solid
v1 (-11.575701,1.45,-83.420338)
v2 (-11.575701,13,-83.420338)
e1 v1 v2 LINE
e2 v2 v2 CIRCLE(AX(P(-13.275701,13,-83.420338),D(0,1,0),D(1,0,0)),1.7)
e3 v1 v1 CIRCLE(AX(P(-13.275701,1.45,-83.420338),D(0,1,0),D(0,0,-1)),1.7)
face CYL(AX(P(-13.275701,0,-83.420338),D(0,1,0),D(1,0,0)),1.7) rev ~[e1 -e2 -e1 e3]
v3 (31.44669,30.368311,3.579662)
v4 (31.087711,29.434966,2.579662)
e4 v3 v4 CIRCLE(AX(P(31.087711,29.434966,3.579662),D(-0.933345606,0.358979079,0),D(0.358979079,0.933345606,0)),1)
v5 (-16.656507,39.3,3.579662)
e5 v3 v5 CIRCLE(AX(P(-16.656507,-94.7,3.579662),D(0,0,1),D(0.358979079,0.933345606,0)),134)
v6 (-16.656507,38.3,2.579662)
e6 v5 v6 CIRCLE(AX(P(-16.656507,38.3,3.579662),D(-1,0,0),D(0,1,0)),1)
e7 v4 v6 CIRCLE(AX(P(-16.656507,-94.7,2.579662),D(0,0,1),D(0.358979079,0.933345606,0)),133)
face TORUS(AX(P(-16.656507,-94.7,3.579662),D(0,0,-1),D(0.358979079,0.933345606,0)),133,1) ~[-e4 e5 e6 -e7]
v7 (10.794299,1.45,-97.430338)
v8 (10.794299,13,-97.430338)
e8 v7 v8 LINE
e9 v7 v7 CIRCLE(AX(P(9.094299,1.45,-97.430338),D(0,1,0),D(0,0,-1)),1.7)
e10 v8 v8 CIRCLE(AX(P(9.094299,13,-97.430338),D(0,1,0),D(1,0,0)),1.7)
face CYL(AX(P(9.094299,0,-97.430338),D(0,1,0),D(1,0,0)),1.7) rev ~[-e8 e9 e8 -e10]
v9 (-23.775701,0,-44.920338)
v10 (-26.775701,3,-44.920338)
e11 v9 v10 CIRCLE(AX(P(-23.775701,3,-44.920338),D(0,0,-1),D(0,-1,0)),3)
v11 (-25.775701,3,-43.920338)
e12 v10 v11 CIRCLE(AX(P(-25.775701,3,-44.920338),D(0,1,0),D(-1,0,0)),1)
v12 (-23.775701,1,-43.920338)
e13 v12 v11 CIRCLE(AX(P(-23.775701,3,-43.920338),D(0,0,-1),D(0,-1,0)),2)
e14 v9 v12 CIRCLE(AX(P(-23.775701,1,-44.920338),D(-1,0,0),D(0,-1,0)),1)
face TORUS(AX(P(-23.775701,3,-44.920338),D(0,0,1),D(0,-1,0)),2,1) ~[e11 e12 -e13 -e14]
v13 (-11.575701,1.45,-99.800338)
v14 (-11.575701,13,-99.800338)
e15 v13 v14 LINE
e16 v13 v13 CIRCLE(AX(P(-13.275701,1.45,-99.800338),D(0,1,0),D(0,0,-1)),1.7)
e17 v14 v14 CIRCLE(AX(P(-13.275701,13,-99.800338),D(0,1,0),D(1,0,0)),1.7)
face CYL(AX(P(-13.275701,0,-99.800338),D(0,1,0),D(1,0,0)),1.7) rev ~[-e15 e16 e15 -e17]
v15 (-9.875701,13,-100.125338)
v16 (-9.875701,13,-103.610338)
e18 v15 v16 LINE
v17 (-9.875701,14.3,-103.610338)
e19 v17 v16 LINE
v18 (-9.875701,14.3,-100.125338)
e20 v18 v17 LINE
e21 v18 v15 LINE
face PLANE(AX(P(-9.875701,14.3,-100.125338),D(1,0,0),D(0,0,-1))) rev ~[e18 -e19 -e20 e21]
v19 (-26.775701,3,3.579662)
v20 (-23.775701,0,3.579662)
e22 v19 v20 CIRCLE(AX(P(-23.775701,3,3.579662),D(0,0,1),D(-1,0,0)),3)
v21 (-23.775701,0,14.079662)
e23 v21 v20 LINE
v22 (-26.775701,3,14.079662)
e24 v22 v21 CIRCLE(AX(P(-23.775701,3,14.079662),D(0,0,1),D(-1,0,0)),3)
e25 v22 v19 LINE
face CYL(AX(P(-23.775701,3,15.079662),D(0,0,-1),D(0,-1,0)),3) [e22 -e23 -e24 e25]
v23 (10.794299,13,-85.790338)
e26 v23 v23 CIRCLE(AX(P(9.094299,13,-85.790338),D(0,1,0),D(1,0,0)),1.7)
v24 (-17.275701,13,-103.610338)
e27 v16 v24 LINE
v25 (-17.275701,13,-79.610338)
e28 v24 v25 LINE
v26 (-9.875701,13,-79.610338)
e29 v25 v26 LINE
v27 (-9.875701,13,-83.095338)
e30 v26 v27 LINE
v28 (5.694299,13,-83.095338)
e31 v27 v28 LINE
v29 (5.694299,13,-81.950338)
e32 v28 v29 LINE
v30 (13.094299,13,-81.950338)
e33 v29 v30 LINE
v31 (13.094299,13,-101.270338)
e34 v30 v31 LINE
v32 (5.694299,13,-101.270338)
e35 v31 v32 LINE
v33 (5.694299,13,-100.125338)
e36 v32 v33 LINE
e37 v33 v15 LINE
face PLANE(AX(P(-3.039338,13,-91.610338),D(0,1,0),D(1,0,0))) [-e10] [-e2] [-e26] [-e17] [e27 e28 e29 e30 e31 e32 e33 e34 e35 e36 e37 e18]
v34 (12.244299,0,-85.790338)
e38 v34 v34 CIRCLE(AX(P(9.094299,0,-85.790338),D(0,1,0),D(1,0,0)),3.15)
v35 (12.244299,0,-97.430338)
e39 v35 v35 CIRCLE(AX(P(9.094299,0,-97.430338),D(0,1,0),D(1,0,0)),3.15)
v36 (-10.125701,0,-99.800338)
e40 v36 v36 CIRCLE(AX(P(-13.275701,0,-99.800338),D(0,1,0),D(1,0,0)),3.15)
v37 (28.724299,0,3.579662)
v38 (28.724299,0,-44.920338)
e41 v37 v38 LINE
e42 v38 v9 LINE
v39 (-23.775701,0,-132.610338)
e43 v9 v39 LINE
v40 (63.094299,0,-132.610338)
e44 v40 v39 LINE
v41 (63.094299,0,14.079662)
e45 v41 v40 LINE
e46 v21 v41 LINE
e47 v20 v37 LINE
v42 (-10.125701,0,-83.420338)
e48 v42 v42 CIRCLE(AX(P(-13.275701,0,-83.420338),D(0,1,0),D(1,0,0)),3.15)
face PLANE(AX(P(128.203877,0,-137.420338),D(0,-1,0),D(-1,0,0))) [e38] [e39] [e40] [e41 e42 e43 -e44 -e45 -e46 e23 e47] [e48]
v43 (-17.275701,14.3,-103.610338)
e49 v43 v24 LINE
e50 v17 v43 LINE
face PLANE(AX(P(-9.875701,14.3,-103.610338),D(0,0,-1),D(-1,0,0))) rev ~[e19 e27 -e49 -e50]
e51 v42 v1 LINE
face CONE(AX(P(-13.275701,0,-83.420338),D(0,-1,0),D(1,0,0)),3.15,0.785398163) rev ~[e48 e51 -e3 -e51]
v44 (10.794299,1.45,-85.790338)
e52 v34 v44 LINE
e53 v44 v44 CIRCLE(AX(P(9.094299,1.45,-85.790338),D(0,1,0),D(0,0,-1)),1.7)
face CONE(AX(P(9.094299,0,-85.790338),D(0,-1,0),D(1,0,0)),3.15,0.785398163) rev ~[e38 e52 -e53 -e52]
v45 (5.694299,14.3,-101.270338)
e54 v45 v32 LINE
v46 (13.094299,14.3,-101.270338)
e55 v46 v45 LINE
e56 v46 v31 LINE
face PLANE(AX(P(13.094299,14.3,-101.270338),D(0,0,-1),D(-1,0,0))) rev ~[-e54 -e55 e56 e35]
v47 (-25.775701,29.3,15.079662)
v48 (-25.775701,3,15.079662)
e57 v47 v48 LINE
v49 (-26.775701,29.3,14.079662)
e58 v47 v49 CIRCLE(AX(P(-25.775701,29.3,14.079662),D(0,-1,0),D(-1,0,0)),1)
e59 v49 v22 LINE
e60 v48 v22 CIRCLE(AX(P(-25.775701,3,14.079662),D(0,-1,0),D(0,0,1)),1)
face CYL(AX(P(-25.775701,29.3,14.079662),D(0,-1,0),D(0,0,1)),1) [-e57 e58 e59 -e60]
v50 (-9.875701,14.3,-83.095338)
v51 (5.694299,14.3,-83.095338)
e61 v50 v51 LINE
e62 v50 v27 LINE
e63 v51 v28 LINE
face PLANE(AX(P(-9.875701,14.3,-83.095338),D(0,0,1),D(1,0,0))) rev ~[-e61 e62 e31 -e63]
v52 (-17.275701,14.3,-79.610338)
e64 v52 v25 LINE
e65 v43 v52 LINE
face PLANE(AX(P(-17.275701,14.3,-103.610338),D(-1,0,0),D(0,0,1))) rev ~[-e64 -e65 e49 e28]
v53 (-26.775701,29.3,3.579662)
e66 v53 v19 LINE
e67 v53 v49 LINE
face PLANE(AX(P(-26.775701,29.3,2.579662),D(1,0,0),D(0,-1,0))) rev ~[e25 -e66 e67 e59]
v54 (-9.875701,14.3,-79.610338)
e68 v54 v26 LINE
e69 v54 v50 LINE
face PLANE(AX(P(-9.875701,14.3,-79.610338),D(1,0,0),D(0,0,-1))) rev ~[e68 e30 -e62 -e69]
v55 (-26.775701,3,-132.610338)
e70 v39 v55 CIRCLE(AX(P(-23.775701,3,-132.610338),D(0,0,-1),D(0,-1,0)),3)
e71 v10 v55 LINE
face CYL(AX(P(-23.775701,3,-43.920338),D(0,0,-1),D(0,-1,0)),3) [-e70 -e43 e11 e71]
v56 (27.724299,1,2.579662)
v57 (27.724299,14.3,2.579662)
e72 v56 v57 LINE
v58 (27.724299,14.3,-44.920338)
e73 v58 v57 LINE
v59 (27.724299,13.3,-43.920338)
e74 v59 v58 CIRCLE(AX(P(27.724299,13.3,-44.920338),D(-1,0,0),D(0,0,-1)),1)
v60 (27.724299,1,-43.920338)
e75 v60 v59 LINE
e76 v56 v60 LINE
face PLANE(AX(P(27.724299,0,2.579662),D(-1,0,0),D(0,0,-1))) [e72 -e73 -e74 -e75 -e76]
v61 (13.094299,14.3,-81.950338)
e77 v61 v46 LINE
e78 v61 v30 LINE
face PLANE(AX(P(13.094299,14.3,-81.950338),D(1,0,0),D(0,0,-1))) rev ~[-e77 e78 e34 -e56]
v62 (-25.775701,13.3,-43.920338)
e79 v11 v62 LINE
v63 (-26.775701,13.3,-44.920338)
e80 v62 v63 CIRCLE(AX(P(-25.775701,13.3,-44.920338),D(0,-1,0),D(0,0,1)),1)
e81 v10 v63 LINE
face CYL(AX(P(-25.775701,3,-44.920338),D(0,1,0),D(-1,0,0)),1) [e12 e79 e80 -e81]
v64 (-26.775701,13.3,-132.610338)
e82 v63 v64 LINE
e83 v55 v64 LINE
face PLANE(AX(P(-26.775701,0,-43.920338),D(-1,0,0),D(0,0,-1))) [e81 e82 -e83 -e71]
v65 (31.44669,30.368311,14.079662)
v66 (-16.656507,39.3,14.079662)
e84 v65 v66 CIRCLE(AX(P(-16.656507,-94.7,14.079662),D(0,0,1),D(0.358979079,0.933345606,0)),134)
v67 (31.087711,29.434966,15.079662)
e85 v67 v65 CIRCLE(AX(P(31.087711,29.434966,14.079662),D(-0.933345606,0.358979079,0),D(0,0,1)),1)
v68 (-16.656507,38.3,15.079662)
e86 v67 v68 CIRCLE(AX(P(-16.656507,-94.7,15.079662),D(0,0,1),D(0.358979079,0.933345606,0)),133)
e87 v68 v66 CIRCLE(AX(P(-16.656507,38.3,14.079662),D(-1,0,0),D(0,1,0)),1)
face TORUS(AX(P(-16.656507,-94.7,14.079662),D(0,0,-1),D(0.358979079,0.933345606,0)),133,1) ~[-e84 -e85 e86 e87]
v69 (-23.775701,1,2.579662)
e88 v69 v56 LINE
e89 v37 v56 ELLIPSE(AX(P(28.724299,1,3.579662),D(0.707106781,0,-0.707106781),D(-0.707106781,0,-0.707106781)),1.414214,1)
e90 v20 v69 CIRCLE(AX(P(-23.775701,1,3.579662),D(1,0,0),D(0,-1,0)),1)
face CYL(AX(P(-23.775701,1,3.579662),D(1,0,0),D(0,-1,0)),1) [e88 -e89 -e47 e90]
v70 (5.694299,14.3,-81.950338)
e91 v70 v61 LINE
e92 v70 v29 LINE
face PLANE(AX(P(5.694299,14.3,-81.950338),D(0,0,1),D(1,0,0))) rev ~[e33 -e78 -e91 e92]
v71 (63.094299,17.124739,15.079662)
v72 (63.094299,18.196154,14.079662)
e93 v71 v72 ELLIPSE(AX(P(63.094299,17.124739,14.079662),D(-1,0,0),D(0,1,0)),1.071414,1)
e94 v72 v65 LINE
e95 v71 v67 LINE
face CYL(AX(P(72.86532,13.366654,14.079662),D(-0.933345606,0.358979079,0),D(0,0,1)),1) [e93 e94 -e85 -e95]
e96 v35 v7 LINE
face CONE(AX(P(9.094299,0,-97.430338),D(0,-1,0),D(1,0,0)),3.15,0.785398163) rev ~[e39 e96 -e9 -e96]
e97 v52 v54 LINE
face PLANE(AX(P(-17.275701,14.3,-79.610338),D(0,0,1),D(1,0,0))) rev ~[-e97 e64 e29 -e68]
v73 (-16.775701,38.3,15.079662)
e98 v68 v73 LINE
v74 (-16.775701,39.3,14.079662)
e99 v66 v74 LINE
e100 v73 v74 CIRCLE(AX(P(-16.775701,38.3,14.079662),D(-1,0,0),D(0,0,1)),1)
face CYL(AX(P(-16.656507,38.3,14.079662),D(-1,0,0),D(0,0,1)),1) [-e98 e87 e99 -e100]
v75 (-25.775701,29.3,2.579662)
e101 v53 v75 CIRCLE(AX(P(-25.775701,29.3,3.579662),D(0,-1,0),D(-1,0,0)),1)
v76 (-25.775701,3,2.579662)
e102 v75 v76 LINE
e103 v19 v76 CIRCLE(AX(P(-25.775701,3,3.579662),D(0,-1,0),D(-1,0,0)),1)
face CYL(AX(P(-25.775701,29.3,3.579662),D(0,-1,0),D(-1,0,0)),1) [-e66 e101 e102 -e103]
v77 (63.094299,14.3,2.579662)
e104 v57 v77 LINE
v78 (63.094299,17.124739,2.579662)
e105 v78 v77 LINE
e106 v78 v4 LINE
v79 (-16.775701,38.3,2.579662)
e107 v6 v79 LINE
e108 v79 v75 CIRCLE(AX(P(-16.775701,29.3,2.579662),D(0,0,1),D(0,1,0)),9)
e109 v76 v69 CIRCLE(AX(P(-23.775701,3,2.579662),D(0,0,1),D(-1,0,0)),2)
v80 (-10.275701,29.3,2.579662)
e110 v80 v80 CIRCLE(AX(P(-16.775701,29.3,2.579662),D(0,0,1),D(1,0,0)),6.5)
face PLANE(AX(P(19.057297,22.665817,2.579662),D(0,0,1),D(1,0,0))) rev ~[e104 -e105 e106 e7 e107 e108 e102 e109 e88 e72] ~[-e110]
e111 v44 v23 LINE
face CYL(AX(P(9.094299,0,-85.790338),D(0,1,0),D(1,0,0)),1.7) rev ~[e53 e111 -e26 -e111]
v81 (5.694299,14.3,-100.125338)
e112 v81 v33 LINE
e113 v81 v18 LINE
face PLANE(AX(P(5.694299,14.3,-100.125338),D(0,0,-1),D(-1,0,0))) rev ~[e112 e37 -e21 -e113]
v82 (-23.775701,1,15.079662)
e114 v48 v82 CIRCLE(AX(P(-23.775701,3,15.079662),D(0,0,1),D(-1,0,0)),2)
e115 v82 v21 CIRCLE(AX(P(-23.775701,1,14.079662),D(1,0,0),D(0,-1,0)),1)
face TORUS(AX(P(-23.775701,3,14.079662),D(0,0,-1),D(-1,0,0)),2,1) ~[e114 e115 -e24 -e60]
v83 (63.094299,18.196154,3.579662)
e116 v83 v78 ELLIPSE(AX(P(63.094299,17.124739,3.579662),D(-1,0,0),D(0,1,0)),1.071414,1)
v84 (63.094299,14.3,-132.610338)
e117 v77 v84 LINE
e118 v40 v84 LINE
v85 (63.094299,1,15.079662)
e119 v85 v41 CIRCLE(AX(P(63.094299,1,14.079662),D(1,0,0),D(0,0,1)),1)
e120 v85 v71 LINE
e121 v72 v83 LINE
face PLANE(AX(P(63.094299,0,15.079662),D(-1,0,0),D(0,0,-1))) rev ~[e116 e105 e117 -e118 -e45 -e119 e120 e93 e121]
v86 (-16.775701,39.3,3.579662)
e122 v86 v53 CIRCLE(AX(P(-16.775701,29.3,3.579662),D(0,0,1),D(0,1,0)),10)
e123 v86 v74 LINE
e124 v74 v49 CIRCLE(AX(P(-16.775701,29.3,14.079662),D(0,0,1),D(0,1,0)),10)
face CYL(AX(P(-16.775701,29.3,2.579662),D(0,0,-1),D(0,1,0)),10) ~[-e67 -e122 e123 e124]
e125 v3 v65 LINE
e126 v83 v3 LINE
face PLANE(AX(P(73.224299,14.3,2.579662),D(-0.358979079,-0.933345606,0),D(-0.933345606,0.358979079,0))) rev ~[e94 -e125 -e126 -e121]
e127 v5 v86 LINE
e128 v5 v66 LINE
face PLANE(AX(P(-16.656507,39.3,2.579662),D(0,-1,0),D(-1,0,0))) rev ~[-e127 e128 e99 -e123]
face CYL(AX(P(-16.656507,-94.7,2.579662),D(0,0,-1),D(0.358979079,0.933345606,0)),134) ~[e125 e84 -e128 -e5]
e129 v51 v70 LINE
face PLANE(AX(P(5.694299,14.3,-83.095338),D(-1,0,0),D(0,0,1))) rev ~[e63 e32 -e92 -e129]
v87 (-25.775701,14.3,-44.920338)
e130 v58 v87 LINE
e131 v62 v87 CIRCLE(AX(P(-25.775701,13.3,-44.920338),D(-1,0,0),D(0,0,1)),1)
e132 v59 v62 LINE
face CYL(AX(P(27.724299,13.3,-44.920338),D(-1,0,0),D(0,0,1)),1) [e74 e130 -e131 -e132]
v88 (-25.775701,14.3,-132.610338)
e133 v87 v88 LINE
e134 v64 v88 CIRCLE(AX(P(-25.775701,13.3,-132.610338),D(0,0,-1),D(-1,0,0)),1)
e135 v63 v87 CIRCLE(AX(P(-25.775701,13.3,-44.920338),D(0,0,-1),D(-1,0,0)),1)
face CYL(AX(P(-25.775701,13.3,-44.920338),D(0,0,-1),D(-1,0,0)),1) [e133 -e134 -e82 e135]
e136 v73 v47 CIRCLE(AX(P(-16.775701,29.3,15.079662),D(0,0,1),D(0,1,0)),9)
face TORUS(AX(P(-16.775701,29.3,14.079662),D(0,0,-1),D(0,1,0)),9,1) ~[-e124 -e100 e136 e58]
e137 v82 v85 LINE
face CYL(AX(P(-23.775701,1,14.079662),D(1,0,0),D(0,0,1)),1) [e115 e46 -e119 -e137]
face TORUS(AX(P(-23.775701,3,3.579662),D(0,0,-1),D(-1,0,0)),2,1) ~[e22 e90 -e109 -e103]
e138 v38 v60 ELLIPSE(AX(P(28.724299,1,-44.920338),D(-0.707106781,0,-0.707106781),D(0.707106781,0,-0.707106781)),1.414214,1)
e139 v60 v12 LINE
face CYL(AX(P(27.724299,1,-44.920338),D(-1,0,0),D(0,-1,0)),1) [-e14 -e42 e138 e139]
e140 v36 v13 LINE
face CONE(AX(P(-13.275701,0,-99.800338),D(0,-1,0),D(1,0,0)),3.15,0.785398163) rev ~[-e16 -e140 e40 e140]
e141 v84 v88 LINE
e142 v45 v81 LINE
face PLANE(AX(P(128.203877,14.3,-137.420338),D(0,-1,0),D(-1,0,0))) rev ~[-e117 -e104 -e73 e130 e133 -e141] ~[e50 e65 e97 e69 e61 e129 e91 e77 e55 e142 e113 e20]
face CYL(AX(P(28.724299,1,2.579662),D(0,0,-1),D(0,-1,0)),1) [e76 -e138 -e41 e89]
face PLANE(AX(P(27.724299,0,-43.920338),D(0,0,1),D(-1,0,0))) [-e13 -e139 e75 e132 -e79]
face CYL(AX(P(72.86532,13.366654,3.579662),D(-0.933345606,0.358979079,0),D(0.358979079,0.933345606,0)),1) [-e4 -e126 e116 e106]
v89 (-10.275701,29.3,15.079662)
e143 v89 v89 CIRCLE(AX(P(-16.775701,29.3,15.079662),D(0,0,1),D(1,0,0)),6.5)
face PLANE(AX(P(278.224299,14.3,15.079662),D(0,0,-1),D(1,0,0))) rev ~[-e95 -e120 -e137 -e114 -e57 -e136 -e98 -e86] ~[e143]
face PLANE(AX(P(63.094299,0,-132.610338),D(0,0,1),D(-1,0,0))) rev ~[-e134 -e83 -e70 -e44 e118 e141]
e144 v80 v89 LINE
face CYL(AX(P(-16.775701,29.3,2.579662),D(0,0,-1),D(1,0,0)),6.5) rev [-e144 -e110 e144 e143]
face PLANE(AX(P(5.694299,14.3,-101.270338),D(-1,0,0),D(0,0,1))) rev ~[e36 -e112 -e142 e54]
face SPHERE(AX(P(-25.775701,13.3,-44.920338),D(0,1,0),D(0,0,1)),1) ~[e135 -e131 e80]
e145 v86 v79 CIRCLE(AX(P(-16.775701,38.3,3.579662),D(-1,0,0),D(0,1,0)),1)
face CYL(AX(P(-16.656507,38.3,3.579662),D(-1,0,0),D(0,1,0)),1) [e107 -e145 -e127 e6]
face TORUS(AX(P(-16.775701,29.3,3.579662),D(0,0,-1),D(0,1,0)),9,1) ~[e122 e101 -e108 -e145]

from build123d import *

# Parameters (mm, degrees)
BOSS_EXTRUDE1_DEPTH                             = 14.3
SKETCH2_R                                       = 1.5
CUT_EXTRUDE1_DEPTH                              = 1.3
CSK_FOR_M3_OVAL_HEAD_MACHINE_SCREW1_D           = 3.4
CSK_FOR_M3_OVAL_HEAD_MACHINE_SCREW1_CSINK_D     = 6.3
CSK_FOR_M3_OVAL_HEAD_MACHINE_SCREW1_CSINK_ANGLE = 90
BOSS_EXTRUDE2_START                             = -12.5
SKETCH8_R                                       = 6.5
BOSS_EXTRUDE2_DEPTH                             = 12.5
SKETCH14_W                                      = 40
SKETCH14_H                                      = 74
BOSS_EXTRUDE4_DEPTH                             = 25
CUT_EXTRUDE3_DEPTH                              = 4
M5_CLEARANCE_HOLE1_D                            = 5.5
FILLET1_R                                       = 4
FILLET1_OF_MIRROR3_R                            = 4
FILLET2_R                                       = 7
FILLET4_R                                       = 3
FILLET5_R                                       = 3
FILLET6_R                                       = 3
FILLET7_R                                       = 1
FILLET8_R                                       = 1
FILLET9_R                                       = 1
FILLET10_R                                      = 1
FILLET11_R                                      = 1
SKETCH21_W                                      = 13
SKETCH21_H                                      = 3.5
BOSS_EXTRUDE5_DEPTH                             = 33
CUT_EXTRUDE4_DEPTH                              = 17
CSK_FOR_M3_FLAT_HEAD_MACHINE_SCREW1_D           = 3.4
CSK_FOR_M3_FLAT_HEAD_MACHINE_SCREW1_CSINK_D     = 6.3
CSK_FOR_M3_FLAT_HEAD_MACHINE_SCREW1_CSINK_ANGLE = 90
CUT_EXTRUDE5_DEPTH                              = 434.079434689


with BuildPart() as part:
    # Sketch1 → Boss-Extrude1 (new body)
    with BuildSketch(Plane(origin=(0, 0, 0), x_dir=(1, 0, 0), z_dir=(0, 1, 0))):
        Polygon((27.724299065, -2.579662371), (27.724299065, 43.920337629), (-26.775700935, 43.920337629), (-26.775700935, 230.920337629), (27.724299065, 230.920337629), (27.724299065, 277.420337629), (-26.775700935, 277.420337629), (-26.775700935, 289.920337629), (318.224299065, 289.920337629), (318.224299065, -15.079662371), (-26.775700935, -15.079662371), (-26.775700935, -2.579662371), align=None)
    extrude(amount=BOSS_EXTRUDE1_DEPTH)

    # Sketch2 → Cut-Extrude1 (cut)
    # profile 1 of 2: a face of its own
    with BuildSketch(Plane(origin=(0, 14.3, 0), x_dir=(1, 0, 0), z_dir=(0, 1, 0))):
        Polygon((5.694299065, 191.745337629), (-9.875700935, 191.745337629), (-9.875700935, 195.230337629), (-17.275700935, 195.230337629), (-17.275700935, 171.230337629), (-9.875700935, 171.230337629), (-9.875700935, 174.715337629), (5.694299065, 174.715337629), (5.694299065, 173.570337629), (13.094299065, 173.570337629), (13.094299065, 192.890337629), (5.694299065, 192.890337629), align=None)
        with Locations(Location((-13.275700935, 191.420337629, 0), (0, 0, 270))):
            Circle(SKETCH2_R, mode=Mode.SUBTRACT)
        with Locations(Location((-13.275700935, 175.040337629, 0), (0, 0, 270))):
            Circle(SKETCH2_R, mode=Mode.SUBTRACT)
        with Locations(Location((9.094299065, 189.050337629, 0), (0, 0, 270))):
            Circle(SKETCH2_R, mode=Mode.SUBTRACT)
        with Locations(Location((9.094299065, 177.410337629, 0), (0, 0, 270))):
            Circle(SKETCH2_R, mode=Mode.SUBTRACT)
    # profile 2 of 2: a face of its own
    with BuildSketch(Plane(origin=(0, 14.3, 0), x_dir=(1, 0, 0), z_dir=(0, 1, 0))):
        Polygon((5.694299065, 100.125337629), (-9.875700935, 100.125337629), (-9.875700935, 103.610337629), (-17.275700935, 103.610337629), (-17.275700935, 79.610337629), (-9.875700935, 79.610337629), (-9.875700935, 83.095337629), (5.694299065, 83.095337629), (5.694299065, 81.950337629), (13.094299065, 81.950337629), (13.094299065, 101.270337629), (5.694299065, 101.270337629), align=None)
        with Locations(Location((-13.275700935, 99.800337629, 0), (0, 0, 270))):
            Circle(SKETCH2_R, mode=Mode.SUBTRACT)
        with Locations(Location((-13.275700935, 83.420337629, 0), (0, 0, 270))):
            Circle(SKETCH2_R, mode=Mode.SUBTRACT)
        with Locations(Location((9.094299065, 97.430337629, 0), (0, 0, 270))):
            Circle(SKETCH2_R, mode=Mode.SUBTRACT)
        with Locations(Location((9.094299065, 85.790337629, 0), (0, 0, 270))):
            Circle(SKETCH2_R, mode=Mode.SUBTRACT)
    extrude(amount=-CUT_EXTRUDE1_DEPTH, mode=Mode.SUBTRACT)

    # CSK for M3 Oval Head Machine Screw1 (through all)
    with Locations(Plane(origin=(0, 0, 0), x_dir=(-1, 0, 0), z_dir=(0, -1, 0))):
        with Locations((13.275700935, 191.420337629), (13.275700935, 175.040337629), (-9.094299065, 177.410337629), (-9.094299065, 189.050337629), (13.275700935, 83.420337629), (13.275700935, 99.800337629), (-9.094299065, 97.430337629), (-9.094299065, 85.790337629)):
            CounterSinkHole(CSK_FOR_M3_OVAL_HEAD_MACHINE_SCREW1_D / 2, CSK_FOR_M3_OVAL_HEAD_MACHINE_SCREW1_CSINK_D / 2, counter_sink_angle=CSK_FOR_M3_OVAL_HEAD_MACHINE_SCREW1_CSINK_ANGLE)

    # Sketch8 → Boss-Extrude2 (add)
    with BuildSketch(Plane.XY.offset(15.079662371).offset(BOSS_EXTRUDE2_START)):
        with BuildLine():
            Line((-26.775700935, 14.3), (73.224299065, 14.3))
            Line((73.224299065, 14.3), (31.446689864, 30.368311231))
            ThreePointArc((31.446689864, 30.368311231), (7.806182122, 37.048156923), (-16.656506763, 39.3))
            Line((-16.656506763, 39.3), (-16.775700935, 39.3))
            ThreePointArc((-16.775700935, 39.3), (-23.846768746, 36.371067812), (-26.775700935, 29.3))
            Line((-26.775700935, 29.3), (-26.775700935, 14.3))
        make_face()
        with Locations((-16.775700935, 29.3)):
            Circle(SKETCH8_R, mode=Mode.SUBTRACT)
    extrude(amount=BOSS_EXTRUDE2_DEPTH)

    # Mirror1: part across plane


with BuildPart() as part_1:
    add(part.part)
    add(part.part.mirror(Plane.XY.offset(-137.420337629)))

    # Sketch14 → Boss-Extrude4 (add)
    with BuildSketch(Plane(origin=(0, 14.3, 0), x_dir=(1, 0, 0), z_dir=(0, 1, 0))):
        with Locations((298.224299065, 21.920337629)):
            Rectangle(SKETCH14_W, SKETCH14_H)
    boss_extrude4 = extrude(amount=BOSS_EXTRUDE4_DEPTH)

    # Sketch15 → Cut-Extrude3 (cut)
    with BuildSketch(Plane(origin=(318.224299065, 0, 0), x_dir=(0, 0, -1), z_dir=(1, 0, 0))):
        Polygon((1.920337629, 24.103847577), (6.420337629, 26.701923789), (6.420337629, 31.898076211), (1.920337629, 34.496152423), (-2.579662371, 31.898076211), (-2.579662371, 26.701923789), align=None)
        Polygon((41.920337629, 24.103847577), (46.420337629, 26.701923789), (46.420337629, 31.898076211), (41.920337629, 34.496152423), (37.420337629, 31.898076211), (37.420337629, 26.701923789), align=None)
    cut_extrude3 = extrude(amount=-CUT_EXTRUDE3_DEPTH, mode=Mode.SUBTRACT)

    # M5 Clearance Hole1 (through all)
    with Locations(Plane(origin=(314.224299065, 0, 0), x_dir=(0, 0, -1), z_dir=(1, 0, 0))):
        with Locations((1.920337629, 29.3), (41.920337629, 29.3)):
            m5_clearance_hole1 = Hole(M5_CLEARANCE_HOLE1_D / 2)

    # Fillet1
    fillet1_edges = [part_1.edges().sort_by_distance(p)[0] for p in [
        (278.224299065, 39.3, -21.920337629),
    ]]
    fillet(fillet1_edges, radius=FILLET1_R)

    # Mirror3: Boss-Extrude4, Cut-Extrude3, M5 Clearance Hole1 across plane
    add(boss_extrude4.mirror(Plane.XY.offset(-137.420337629)))
    add(cut_extrude3.mirror(Plane.XY.offset(-137.420337629)), mode=Mode.SUBTRACT)
    add(m5_clearance_hole1.mirror(Plane.XY.offset(-137.420337629)), mode=Mode.SUBTRACT)

    # Fillet1 of Mirror3
    fillet1_of_mirror3_edges = [part_1.edges().sort_by_distance(p)[0] for p in [
        (278.224299065, 39.3, -252.920337629),
    ]]
    fillet(fillet1_of_mirror3_edges, radius=FILLET1_OF_MIRROR3_R)

    # Fillet2
    fillet2_edges = [part_1.edges().sort_by_distance(p)[0] for p in [
        (318.224299065, 0, -137.420337629),
    ]]
    fillet(fillet2_edges, radius=FILLET2_R)

    # Fillet4
    fillet4_edges = [part_1.edges().sort_by_distance(p)[0] for p in [
        (-26.775700935, 0, -137.420337629),
    ]]
    fillet(fillet4_edges, radius=FILLET4_R)

    # Fillet5
    fillet5_edges = [part_1.edges().sort_by_distance(p)[0] for p in [
        (-26.775700935, 0, 8.829662371),
    ]]
    fillet(fillet5_edges, radius=FILLET5_R)

    # Fillet6
    fillet6_edges = [part_1.edges().sort_by_distance(p)[0] for p in [
        (-26.775700935, 0, -283.670337629),
    ]]
    fillet(fillet6_edges, radius=FILLET6_R)

    # Fillet7
    fillet7_edges = [part_1.edges().sort_by_distance(p)[0] for p in [
        (52.335494465, 22.334155616, 15.079662371),
        (7.806182122, 37.048156923, 15.079662371),
        (-16.716103849, 39.3, 15.079662371),
        (-23.846768746, 36.371067812, 15.079662371),
        (318.224299065, 23.15, 15.079662371),
        (-26.775700935, 16.15, 15.079662371),
        (316.174046534, 2.050252532, 15.079662371),
        (143.724299065, 0, 15.079662371),
        (-25.897021278, 0.878679656, 15.079662371),
    ]]
    fillet(fillet7_edges, radius=FILLET7_R)

    # Fillet8
    fillet8_edges = [part_1.edges().sort_by_distance(p)[0] for p in [
        (-26.775700935, 16.15, -289.920337629),
        (318.224299065, 23.15, -289.920337629),
        (-23.846768746, 36.371067812, -289.920337629),
        (-16.716103849, 39.3, -289.920337629),
        (7.806182122, 37.048156923, -289.920337629),
        (52.335494465, 22.334155616, -289.920337629),
        (143.724299065, 0, -289.920337629),
        (316.174046534, 2.050252532, -289.920337629),
        (-25.897021278, 0.878679656, -289.920337629),
    ]]
    fillet(fillet8_edges, radius=FILLET8_R)

    # Fillet9
    fillet9_edges = [part_1.edges().sort_by_distance(p)[0] for p in [
        (27.724299065, 0, -20.670337629),
        (1.974299065, 0, 2.579662371),
        (-26.775700935, 8.65, -43.920337629),
        (-23.846768746, 36.371067812, 2.579662371),
        (-16.716103849, 39.3, 2.579662371),
        (7.806182122, 37.048156923, 2.579662371),
        (52.335494465, 22.334155616, 2.579662371),
        (-26.775700935, 16.15, 2.579662371),
        (1.974299065, 0, -43.920337629),
        (-25.897021278, 0.878679656, -43.920337629),
        (-25.897021278, 0.878679656, 2.579662371),
    ]]
    fillet(fillet9_edges, radius=FILLET9_R)

    # Fillet10
    fillet10_edges = [part_1.edges().sort_by_distance(p)[0] for p in [
        (1.974299065, 0, -230.920337629),
        (27.724299065, 0, -254.170337629),
        (-26.775700935, 8.65, -230.920337629),
        (-26.775700935, 16.15, -277.420337629),
        (52.335494465, 22.334155616, -277.420337629),
        (7.806182122, 37.048156923, -277.420337629),
        (-16.716103849, 39.3, -277.420337629),
        (-23.846768746, 36.371067812, -277.420337629),
        (-25.897021278, 0.878679656, -230.920337629),
        (1.974299065, 0, -277.420337629),
        (-25.897021278, 0.878679656, -277.420337629),
    ]]
    fillet(fillet10_edges, radius=FILLET10_R)

    # Fillet11
    fillet11_edges = [part_1.edges().sort_by_distance(p)[0] for p in [
        (0.974299065, 14.3, -230.920337629),
        (0.974299065, 14.3, -43.920337629),
        (-26.482807716, 14.3, -44.213230848),
        (-26.775700935, 14.3, -137.420337629),
        (-26.482807716, 14.3, -230.62744441),
    ]]
    fillet(fillet11_edges, radius=FILLET11_R)

    # Sketch21 → Boss-Extrude5 (add)
    with BuildSketch(Plane(origin=(0, 14.3, 0), x_dir=(1, 0, 0), z_dir=(0, 1, 0))):
        with Locations((215.599299065, 13.170337629)):
            Rectangle(SKETCH21_W, SKETCH21_H)
        with Locations((215.599299065, 26.670337629)):
            Rectangle(SKETCH21_W, SKETCH21_H)
    boss_extrude5 = extrude(amount=BOSS_EXTRUDE5_DEPTH)

    # Sketch22 → Cut-Extrude4 (cut)
    with BuildSketch(Plane.XY.offset(-11.420337629)):
        with BuildLine():
            Line((209.099299065, 41.3), (209.099299065, 47.3))
            Line((209.099299065, 47.3), (215.599299065, 49.081376358))
            Line((215.599299065, 49.081376358), (222.099299065, 47.3))
            Line((222.099299065, 47.3), (222.099299065, 41.3))
            ThreePointArc((222.099299065, 41.3), (215.599299065, 47.3), (209.099299065, 41.3))
        make_face()
    cut_extrude4 = extrude(amount=-CUT_EXTRUDE4_DEPTH, mode=Mode.SUBTRACT)

    # CSK for M3 Flat Head Machine Screw1 (through all)
    with Locations(Plane.XY.offset(-11.420337629)):
        with Locations((215.594856714, 41.29339707), (185.090080481, 50.471650395), (10.649939144, 122.619059121)):
            csk_for_m3_flat_head_machine_screw1 = CounterSinkHole(CSK_FOR_M3_FLAT_HEAD_MACHINE_SCREW1_D / 2, CSK_FOR_M3_FLAT_HEAD_MACHINE_SCREW1_CSINK_D / 2, counter_sink_angle=CSK_FOR_M3_FLAT_HEAD_MACHINE_SCREW1_CSINK_ANGLE)

    # Mirror4: Boss-Extrude5, Cut-Extrude4, CSK for M3 Flat Head Machine Screw1 across plane
    add(boss_extrude5.mirror(Plane.XY.offset(-137.420337629)))
    add(cut_extrude4.mirror(Plane.XY.offset(-137.420337629)), mode=Mode.SUBTRACT)
    add(csk_for_m3_flat_head_machine_screw1.mirror(Plane.XY.offset(-137.420337629)), mode=Mode.SUBTRACT)

    # only_engine_part → Cut-Extrude5 (cut, through all)
    with BuildSketch(Plane.XZ):
        Polygon((-26.775700935, -289.920337629), (318.224299065, -289.920337629), (318.224299065, 15.079662371), (63.094299065, 15.079662371), (63.094299065, -132.610337629), (-26.775700935, -132.610337629), align=None)
    extrude(amount=-CUT_EXTRUDE5_DEPTH, mode=Mode.SUBTRACT)


solid = part_1.part
